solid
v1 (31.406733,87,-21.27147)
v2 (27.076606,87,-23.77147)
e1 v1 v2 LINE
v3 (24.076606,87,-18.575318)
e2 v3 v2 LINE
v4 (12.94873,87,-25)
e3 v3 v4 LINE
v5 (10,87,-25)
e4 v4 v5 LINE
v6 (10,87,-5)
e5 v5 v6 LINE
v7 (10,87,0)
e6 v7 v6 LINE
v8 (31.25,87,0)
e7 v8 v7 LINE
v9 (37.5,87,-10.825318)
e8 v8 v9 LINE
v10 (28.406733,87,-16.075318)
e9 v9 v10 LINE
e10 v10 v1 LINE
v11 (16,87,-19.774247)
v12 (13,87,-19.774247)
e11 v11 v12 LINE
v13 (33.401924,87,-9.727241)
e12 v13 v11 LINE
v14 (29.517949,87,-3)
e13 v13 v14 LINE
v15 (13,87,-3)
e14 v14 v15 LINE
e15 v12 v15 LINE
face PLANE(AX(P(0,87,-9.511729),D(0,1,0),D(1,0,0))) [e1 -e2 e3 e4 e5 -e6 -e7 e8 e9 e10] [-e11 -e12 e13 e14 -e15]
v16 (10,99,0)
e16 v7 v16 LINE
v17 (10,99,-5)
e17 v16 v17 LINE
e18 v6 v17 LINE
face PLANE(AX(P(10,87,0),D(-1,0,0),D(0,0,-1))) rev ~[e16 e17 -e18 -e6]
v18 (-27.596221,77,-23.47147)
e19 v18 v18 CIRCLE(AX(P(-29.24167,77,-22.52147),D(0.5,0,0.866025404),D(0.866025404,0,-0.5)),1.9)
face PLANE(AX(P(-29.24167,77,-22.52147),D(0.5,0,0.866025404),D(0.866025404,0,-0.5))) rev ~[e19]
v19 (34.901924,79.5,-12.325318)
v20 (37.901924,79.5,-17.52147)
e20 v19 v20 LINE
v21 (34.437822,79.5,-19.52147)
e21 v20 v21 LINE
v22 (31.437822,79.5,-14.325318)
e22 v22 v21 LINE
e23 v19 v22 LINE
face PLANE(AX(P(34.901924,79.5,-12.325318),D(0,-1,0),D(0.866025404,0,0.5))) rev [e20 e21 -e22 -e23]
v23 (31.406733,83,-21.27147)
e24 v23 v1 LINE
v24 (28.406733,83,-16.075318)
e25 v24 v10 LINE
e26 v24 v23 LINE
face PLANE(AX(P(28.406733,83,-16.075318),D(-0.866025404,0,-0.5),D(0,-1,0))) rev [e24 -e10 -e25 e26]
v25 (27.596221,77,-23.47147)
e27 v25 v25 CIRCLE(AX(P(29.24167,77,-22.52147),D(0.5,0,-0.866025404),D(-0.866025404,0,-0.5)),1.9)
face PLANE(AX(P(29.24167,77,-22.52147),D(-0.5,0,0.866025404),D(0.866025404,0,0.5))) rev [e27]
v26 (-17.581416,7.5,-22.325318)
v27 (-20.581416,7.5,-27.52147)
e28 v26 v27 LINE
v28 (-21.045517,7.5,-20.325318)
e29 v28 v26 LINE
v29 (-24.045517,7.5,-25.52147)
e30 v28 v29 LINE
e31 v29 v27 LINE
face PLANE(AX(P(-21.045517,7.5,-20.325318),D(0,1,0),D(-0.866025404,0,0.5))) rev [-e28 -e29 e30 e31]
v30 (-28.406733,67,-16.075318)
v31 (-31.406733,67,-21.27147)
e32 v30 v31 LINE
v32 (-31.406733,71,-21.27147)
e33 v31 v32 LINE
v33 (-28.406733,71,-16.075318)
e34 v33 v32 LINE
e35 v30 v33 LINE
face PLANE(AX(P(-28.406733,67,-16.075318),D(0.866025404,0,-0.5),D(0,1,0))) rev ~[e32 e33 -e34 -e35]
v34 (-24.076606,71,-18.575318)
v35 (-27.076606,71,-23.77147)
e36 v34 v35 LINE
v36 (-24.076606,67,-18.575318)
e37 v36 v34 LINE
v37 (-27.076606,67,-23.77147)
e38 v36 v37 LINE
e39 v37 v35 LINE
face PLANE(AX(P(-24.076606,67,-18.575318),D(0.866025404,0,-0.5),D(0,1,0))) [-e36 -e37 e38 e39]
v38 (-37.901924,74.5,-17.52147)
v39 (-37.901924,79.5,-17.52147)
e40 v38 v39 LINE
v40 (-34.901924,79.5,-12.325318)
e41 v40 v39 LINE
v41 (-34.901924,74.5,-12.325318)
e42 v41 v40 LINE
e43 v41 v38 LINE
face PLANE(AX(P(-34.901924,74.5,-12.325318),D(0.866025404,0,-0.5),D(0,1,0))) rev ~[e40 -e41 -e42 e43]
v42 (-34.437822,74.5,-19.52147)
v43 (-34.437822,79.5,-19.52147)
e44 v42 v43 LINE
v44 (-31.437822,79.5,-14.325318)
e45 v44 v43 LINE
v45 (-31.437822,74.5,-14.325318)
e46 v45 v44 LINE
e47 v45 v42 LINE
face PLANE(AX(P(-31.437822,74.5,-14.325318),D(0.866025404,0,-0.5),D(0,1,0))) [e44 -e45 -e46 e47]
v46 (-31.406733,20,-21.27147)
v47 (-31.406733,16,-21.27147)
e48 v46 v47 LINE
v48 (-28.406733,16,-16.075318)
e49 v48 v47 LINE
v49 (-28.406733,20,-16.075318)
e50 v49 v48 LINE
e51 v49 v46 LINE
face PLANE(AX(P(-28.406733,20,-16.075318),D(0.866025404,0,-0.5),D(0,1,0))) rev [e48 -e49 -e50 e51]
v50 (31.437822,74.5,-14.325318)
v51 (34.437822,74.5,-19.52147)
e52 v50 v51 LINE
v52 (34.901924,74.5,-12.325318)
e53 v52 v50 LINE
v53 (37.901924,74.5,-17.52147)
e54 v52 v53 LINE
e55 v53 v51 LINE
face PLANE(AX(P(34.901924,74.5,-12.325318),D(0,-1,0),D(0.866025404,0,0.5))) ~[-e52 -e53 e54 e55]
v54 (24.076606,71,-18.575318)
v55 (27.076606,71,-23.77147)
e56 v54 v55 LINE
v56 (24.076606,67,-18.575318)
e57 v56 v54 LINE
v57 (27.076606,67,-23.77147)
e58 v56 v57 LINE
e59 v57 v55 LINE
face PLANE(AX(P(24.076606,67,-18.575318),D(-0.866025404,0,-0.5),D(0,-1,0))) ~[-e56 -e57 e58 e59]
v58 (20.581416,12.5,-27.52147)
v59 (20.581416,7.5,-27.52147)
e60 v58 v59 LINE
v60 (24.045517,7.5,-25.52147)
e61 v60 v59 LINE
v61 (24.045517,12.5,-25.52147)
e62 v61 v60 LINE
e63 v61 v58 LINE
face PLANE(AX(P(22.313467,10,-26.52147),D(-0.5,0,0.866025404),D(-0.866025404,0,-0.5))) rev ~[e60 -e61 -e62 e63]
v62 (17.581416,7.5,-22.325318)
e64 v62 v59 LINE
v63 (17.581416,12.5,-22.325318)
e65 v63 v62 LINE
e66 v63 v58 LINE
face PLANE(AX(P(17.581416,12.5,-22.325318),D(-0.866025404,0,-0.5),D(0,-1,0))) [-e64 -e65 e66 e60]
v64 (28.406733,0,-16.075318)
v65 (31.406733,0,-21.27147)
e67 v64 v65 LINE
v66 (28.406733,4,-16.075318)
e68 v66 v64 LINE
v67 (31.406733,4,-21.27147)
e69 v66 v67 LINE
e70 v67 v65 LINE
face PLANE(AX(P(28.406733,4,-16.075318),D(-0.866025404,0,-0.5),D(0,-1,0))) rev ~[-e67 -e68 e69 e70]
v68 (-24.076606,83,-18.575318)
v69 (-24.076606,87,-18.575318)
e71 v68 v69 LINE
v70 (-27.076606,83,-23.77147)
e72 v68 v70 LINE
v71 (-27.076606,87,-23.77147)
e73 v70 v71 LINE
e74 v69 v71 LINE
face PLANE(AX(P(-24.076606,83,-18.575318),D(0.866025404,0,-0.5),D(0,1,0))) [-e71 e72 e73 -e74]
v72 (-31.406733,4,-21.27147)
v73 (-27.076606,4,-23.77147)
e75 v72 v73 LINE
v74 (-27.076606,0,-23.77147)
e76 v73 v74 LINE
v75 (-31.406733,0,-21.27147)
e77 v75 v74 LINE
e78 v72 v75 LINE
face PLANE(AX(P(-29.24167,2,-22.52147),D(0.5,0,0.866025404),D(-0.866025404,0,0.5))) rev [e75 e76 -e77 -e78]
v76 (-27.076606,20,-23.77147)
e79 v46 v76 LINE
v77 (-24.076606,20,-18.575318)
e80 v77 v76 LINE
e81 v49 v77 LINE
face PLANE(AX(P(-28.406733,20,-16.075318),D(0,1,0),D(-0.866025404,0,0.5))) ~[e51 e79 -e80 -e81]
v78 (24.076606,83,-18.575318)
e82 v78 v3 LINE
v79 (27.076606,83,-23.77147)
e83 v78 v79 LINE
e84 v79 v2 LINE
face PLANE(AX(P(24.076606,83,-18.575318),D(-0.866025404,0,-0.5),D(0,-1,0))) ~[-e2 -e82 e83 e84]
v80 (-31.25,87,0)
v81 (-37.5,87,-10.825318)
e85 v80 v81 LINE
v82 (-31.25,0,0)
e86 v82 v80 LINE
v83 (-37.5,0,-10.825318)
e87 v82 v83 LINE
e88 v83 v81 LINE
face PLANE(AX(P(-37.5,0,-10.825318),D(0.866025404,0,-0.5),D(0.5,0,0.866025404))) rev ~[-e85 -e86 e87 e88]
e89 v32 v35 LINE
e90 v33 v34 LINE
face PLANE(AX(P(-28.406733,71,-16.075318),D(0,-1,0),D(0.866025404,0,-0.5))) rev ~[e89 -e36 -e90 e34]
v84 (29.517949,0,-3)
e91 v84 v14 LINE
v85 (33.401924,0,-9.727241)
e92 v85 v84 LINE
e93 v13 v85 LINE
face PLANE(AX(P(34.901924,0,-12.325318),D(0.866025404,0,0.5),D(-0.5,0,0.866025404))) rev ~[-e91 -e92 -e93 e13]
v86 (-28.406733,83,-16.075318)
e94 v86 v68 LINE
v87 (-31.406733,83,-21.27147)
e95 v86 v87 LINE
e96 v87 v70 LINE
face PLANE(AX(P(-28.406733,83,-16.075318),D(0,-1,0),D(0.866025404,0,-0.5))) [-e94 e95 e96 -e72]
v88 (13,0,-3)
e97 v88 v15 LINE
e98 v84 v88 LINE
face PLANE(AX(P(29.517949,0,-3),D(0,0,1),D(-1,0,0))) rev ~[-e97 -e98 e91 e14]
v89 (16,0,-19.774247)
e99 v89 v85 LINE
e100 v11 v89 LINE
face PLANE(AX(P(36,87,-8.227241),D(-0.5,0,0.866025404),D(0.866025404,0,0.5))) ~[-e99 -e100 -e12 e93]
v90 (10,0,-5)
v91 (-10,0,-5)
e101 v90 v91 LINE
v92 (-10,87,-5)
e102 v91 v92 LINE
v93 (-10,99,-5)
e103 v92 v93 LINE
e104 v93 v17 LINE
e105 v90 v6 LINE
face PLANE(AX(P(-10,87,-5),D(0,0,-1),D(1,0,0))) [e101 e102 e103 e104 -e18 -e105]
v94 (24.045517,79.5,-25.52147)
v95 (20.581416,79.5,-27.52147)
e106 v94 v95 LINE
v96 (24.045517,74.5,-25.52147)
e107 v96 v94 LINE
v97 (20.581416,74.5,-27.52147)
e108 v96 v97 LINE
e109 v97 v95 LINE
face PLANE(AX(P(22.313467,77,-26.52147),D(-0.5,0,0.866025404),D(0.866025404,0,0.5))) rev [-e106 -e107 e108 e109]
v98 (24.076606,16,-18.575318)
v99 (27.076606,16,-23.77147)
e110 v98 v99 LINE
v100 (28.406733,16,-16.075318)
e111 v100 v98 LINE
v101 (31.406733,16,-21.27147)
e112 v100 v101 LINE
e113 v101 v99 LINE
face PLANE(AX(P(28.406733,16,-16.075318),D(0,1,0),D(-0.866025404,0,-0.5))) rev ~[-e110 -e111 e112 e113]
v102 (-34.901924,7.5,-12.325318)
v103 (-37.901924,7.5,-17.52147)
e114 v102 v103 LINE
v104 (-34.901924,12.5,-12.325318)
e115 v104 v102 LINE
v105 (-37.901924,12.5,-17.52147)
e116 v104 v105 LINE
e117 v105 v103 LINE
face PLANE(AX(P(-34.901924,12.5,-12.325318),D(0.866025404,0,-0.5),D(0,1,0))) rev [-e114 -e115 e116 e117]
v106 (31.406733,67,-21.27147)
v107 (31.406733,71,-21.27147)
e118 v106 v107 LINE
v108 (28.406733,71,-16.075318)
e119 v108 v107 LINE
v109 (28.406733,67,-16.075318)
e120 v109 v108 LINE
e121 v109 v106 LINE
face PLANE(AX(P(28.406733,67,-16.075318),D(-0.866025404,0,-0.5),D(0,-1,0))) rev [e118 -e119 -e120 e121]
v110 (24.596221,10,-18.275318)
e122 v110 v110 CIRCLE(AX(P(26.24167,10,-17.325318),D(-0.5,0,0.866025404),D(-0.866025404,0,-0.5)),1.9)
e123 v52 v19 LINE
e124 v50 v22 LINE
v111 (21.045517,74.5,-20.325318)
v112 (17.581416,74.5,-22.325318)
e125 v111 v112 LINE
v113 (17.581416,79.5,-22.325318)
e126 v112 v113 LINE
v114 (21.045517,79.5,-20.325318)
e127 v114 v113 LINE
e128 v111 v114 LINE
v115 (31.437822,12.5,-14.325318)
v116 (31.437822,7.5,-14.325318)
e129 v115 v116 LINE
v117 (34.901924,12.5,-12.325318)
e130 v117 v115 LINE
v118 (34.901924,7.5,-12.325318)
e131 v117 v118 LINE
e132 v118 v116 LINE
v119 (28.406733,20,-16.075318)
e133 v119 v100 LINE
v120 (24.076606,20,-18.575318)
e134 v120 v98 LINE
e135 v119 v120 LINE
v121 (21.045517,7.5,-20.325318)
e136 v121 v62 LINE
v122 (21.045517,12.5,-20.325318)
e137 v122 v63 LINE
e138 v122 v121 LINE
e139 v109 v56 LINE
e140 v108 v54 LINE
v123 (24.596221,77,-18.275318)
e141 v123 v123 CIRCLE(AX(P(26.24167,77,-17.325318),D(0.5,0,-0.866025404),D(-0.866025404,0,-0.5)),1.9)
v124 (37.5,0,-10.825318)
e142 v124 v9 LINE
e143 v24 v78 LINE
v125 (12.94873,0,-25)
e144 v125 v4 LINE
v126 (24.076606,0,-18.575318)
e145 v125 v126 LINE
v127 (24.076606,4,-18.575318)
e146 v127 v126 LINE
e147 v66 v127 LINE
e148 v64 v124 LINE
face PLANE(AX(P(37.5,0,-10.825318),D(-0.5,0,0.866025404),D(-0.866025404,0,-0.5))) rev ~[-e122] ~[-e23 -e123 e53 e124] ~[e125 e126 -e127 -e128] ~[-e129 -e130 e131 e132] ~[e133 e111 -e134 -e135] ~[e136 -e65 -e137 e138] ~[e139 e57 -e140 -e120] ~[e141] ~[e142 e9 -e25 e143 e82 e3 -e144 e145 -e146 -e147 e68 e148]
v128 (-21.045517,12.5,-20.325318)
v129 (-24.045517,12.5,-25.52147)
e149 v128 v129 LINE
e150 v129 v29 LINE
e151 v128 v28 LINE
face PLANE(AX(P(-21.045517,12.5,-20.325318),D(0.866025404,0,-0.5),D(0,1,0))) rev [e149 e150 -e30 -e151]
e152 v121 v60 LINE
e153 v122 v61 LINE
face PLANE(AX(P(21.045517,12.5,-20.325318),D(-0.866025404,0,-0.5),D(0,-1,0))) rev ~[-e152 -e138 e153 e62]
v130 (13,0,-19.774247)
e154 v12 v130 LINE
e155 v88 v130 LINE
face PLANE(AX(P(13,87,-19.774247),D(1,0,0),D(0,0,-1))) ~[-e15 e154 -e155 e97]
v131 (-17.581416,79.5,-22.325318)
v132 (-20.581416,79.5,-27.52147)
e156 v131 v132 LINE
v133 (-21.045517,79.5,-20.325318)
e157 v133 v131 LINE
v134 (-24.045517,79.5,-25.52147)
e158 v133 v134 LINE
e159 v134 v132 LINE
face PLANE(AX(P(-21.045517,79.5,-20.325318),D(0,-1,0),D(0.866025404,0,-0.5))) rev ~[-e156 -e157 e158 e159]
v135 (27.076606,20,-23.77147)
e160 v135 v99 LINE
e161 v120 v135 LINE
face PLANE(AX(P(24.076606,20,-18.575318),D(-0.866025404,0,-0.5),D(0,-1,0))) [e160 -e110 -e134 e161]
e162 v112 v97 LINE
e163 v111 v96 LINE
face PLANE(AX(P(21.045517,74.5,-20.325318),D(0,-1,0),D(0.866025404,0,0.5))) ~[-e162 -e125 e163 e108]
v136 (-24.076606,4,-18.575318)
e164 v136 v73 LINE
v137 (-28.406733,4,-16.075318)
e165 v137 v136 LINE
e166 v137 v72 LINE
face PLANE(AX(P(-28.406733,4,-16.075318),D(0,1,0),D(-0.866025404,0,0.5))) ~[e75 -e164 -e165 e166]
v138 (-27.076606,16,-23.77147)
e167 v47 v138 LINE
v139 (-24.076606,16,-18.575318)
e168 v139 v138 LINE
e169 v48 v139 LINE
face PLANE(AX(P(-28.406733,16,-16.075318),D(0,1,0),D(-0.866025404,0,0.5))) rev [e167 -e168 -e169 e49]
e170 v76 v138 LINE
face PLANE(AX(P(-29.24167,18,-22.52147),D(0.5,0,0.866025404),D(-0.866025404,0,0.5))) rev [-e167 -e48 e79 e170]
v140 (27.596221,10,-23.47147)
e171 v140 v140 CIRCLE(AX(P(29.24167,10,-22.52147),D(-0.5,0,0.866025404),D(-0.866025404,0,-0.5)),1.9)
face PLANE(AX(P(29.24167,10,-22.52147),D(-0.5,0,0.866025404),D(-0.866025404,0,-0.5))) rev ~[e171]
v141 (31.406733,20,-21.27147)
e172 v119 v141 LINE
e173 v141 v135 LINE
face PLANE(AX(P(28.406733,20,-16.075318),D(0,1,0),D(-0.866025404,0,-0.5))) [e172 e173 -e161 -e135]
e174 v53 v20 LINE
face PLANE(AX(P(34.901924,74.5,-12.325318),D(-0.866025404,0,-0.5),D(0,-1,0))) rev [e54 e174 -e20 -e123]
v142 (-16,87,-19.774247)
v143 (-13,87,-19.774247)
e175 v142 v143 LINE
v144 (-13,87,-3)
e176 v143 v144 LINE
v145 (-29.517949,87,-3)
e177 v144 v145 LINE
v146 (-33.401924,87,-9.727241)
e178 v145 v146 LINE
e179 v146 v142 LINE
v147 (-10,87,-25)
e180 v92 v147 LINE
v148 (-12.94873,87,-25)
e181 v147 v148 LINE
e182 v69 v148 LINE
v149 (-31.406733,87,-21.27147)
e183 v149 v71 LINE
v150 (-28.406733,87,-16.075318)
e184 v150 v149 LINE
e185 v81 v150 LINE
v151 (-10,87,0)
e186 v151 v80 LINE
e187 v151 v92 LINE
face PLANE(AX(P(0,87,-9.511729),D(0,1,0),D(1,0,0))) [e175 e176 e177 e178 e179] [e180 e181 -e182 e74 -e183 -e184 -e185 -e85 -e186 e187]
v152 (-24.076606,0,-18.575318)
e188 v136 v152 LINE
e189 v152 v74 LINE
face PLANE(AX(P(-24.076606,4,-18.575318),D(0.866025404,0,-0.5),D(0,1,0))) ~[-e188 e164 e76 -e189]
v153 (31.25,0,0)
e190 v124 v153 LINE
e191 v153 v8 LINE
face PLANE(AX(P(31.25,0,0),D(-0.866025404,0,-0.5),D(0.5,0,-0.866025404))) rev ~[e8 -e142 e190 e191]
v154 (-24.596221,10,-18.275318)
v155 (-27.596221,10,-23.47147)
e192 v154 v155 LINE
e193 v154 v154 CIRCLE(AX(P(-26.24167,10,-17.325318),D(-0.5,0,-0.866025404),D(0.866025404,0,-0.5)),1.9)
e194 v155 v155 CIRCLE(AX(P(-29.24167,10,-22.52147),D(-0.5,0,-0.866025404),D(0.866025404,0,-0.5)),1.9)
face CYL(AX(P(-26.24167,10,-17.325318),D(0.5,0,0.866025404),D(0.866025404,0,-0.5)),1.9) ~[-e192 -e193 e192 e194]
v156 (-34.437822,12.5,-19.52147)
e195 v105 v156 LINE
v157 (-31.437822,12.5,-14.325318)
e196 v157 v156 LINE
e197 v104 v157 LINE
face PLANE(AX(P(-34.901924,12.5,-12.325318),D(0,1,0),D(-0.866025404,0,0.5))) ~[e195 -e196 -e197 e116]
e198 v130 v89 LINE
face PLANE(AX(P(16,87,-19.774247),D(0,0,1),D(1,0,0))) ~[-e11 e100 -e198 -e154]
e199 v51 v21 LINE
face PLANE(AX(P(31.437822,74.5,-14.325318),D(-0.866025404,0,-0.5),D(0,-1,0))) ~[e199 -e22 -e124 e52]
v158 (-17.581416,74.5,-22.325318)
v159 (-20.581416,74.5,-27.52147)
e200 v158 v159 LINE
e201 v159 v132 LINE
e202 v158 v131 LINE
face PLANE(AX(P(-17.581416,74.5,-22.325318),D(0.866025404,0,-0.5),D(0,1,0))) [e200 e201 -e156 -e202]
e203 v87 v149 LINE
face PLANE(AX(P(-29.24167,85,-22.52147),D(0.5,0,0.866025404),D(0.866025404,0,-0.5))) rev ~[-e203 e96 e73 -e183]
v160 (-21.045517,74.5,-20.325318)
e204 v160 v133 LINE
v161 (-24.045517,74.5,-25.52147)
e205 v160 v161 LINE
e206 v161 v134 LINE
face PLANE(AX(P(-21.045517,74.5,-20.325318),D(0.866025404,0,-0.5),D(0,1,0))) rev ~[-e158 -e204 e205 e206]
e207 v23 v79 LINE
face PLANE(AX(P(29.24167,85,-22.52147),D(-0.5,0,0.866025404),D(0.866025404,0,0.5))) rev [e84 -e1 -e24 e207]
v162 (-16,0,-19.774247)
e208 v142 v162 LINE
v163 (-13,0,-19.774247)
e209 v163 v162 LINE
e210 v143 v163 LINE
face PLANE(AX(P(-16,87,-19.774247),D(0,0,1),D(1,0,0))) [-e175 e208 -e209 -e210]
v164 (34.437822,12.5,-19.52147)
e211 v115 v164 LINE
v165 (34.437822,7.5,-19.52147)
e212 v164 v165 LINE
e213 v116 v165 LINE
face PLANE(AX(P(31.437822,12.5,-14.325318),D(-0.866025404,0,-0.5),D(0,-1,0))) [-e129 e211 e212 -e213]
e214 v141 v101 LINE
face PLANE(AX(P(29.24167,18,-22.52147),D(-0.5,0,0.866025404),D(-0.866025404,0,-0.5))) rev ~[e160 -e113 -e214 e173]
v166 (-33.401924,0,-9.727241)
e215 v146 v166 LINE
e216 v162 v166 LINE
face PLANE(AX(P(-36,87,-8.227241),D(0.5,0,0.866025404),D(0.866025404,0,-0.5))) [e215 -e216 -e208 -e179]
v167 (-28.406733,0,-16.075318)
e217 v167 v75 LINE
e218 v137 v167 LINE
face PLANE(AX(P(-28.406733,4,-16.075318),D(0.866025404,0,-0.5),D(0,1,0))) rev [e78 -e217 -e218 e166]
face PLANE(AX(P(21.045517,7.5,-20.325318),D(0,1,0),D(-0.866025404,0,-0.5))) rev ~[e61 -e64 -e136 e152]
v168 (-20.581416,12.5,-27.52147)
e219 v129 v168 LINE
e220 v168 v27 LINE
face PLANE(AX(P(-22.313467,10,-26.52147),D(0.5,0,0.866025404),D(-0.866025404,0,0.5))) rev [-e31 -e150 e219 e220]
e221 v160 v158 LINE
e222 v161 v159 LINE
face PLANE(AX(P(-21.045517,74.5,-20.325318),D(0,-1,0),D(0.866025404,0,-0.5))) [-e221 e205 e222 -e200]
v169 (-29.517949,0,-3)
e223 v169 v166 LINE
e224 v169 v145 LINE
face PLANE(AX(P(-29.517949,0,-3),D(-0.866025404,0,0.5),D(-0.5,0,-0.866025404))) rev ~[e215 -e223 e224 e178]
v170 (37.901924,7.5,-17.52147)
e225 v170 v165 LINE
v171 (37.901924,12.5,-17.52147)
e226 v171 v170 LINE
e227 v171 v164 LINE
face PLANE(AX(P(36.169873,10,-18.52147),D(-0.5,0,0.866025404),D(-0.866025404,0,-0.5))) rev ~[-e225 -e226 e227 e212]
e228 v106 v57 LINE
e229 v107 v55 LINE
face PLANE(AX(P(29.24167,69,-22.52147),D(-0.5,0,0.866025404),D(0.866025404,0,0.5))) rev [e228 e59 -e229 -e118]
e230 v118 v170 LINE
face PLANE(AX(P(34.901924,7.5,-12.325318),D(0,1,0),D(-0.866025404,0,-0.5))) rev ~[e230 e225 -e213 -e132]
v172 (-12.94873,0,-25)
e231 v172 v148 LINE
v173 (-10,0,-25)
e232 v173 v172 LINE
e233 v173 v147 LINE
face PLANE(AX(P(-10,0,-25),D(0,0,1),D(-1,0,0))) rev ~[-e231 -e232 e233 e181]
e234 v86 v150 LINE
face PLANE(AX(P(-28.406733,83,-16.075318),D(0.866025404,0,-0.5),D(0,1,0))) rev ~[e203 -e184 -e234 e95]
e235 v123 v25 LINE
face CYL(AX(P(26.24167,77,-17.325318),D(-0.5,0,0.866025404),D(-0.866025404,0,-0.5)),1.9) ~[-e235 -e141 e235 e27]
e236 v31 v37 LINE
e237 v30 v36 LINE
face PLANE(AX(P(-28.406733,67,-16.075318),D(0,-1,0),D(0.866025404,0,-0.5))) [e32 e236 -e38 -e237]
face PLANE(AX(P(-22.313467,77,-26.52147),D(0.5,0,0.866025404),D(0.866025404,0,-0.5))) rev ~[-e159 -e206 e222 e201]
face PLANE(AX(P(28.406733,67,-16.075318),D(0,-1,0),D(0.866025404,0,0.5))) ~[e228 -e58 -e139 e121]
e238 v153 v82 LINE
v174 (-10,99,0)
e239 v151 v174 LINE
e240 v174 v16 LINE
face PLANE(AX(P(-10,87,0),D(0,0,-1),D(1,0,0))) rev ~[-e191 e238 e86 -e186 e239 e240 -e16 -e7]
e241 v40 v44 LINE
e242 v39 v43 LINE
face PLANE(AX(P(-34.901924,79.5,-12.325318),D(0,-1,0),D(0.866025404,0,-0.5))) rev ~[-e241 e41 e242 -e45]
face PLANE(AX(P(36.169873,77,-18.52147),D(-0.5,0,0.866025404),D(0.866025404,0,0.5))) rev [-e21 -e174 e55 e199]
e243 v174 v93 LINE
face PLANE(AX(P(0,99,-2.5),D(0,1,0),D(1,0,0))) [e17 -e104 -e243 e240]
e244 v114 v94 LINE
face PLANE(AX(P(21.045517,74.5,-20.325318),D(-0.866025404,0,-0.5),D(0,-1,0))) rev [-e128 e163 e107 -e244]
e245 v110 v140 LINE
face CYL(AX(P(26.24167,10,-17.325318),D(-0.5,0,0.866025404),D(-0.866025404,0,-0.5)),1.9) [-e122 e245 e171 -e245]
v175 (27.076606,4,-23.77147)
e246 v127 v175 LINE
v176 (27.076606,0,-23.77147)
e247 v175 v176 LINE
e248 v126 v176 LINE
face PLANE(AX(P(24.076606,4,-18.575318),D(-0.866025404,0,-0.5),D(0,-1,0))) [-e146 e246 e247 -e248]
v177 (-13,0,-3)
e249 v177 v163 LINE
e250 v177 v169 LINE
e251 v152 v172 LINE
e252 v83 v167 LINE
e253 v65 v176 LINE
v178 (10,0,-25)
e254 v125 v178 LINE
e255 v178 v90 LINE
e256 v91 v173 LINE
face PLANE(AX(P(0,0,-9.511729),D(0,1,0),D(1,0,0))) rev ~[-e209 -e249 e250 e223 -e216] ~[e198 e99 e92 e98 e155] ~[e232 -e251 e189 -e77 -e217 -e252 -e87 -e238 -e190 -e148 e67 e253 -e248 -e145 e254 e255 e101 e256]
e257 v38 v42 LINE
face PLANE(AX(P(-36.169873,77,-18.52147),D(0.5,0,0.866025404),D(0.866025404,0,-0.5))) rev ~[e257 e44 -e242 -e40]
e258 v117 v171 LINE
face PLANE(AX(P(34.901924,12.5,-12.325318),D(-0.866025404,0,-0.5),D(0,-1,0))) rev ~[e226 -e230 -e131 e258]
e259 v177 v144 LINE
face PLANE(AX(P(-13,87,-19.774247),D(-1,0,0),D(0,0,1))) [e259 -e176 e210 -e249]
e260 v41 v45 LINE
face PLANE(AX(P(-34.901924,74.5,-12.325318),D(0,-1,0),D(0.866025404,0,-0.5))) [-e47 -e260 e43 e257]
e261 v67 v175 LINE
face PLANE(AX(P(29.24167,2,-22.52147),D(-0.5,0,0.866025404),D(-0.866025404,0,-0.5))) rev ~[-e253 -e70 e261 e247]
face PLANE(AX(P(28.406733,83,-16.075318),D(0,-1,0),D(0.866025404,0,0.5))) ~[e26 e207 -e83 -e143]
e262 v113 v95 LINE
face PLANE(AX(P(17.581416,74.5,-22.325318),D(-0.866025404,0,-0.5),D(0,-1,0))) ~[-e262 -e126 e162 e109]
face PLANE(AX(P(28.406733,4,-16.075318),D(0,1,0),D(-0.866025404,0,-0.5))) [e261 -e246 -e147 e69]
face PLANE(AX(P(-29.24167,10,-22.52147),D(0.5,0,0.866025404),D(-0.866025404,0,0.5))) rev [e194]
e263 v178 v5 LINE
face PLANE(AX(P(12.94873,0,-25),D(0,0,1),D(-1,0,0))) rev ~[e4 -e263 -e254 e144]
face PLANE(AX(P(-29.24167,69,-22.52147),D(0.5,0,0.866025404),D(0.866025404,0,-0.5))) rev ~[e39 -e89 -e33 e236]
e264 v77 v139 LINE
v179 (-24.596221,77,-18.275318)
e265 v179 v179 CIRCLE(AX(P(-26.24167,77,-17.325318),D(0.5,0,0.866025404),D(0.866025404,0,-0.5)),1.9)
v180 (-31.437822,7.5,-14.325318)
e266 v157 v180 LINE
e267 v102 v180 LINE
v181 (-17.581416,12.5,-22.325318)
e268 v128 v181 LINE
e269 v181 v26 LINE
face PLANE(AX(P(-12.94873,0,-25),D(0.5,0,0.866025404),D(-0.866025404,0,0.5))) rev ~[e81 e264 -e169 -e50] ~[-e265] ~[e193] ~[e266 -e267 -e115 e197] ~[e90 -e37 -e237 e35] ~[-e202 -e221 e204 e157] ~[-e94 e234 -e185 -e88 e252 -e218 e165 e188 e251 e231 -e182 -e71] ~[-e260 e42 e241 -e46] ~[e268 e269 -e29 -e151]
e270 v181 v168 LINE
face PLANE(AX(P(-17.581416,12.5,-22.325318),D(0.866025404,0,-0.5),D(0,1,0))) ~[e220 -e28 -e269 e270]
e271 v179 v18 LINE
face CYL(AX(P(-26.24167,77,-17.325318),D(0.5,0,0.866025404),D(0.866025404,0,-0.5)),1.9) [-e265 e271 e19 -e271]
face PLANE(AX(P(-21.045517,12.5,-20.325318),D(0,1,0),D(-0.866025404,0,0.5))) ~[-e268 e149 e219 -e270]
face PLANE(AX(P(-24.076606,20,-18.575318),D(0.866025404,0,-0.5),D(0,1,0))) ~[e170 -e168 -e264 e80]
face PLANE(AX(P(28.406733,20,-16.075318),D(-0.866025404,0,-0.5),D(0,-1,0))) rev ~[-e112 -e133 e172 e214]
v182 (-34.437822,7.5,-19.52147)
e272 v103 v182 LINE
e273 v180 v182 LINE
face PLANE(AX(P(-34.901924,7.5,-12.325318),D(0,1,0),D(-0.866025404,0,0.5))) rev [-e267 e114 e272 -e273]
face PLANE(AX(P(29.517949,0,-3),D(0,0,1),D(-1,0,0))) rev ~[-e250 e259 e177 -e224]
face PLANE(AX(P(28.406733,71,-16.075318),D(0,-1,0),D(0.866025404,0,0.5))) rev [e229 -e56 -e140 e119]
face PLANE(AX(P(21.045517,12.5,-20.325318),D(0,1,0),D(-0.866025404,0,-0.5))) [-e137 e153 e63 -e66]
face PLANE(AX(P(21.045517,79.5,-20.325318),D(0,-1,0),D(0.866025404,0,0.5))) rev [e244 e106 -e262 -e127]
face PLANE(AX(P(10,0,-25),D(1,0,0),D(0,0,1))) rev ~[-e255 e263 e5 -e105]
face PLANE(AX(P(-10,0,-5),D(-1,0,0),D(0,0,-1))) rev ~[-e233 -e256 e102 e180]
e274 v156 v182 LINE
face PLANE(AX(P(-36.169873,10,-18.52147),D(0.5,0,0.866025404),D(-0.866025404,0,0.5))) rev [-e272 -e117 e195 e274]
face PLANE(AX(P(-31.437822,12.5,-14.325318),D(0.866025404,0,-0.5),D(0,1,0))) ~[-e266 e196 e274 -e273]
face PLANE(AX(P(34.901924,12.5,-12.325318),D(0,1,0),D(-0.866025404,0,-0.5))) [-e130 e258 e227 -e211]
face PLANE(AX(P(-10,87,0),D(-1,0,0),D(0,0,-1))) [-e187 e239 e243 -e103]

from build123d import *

# Parameters (mm, degrees)
BOSS_EXTRU_1_DEPTH          = 87
ENL_V_MAT_EXTRU_1_REACH     = 99.981
BOSS_EXTRU_2_DEPTH          = 87
ESQUISSE3_R                 = 1.9
ESQUISSE3_W                 = 5
ESQUISSE3_H                 = 4
ESQUISSE3_W_2               = 4
ESQUISSE3_H_2               = 5
BOSS_EXTRU_3_DEPTH          = 6
SYM_TRIE3_COPY_1_SKETCH_R   = 1.9
SYM_TRIE3_COPY_1_SKETCH_W   = 5
SYM_TRIE3_COPY_1_SKETCH_H   = 4
SYM_TRIE3_COPY_1_SKETCH_W_2 = 4
SYM_TRIE3_COPY_1_SKETCH_H_2 = 5
SYM_TRIE3_COPY_1_DEPTH      = 6
ESQUISSE5_W                 = 20
ESQUISSE5_H                 = 5
BOSS_EXTRU_4_DEPTH          = 12


with BuildPart() as part:
    # Esquisse1 → Boss.-Extru.1 (new body)
    with BuildSketch(Plane(origin=(0, 0, 0), x_dir=(1, 0, 0), z_dir=(0, 1, 0))):
        Polygon((-31.25, 0), (31.25, 0), (37.5, 10.825317547), (12.948729811, 25), (10, 25), (10, 5), (-10, 5), (-10, 25), (-12.948729811, 25), (-37.5, 10.825317547), align=None)
    extrude(amount=BOSS_EXTRU_1_DEPTH)

    # Esquisse2 → Enlèv. mat.-Extru.1 (cut, up to next)
    with BuildSketch(Plane(origin=(0, 87, 0), x_dir=(1, 0, 0), z_dir=(0, 1, 0)), mode=Mode.PRIVATE) as enl_v_mat_extru_1_sk1:
        Polygon((-36, 8.227241336), (-16, 19.77424672), (-13, 19.77424672), (-13, 0), (-31.25, 0), align=None)
    enl_v_mat_extru_1_tool1 = extrude(enl_v_mat_extru_1_sk1.sketch, amount=-ENL_V_MAT_EXTRU_1_REACH, mode=Mode.PRIVATE) & part.part
    enl_v_mat_extru_1 = enl_v_mat_extru_1_tool1.solids().sort_by_distance((-22.148909, 87, -8.14347))[0]
    add(enl_v_mat_extru_1, mode=Mode.SUBTRACT)

    # Symétrie1: Enlèv. mat.-Extru.1 across plane
    add(enl_v_mat_extru_1.mirror(Plane(origin=(0, 0, 0), x_dir=(0, 0, 1), z_dir=(1, 0, 0))), mode=Mode.SUBTRACT)

    # Esquisse4 → Boss.-Extru.2 (add)
    with BuildSketch(Plane(origin=(0, 0, 0), x_dir=(1, 0, 0), z_dir=(0, 1, 0))):
        Polygon((-37.5, 10.825317547), (-31.25, 0), (31.25, 0), (37.5, 10.825317547), (34.901923789, 12.325317547), (29.517949192, 3), (-29.517949192, 3), (-34.901923789, 12.325317547), align=None)
    extrude(amount=BOSS_EXTRU_2_DEPTH)

    # Esquisse3 → Boss.-Extru.3 (add)
    with BuildSketch(Plane(origin=(-14.0625, 0, -24.356964481), x_dir=(0.8660254037844396, 0, -0.4999999999999984), z_dir=(0.49999999999999833, 0, 0.8660254037844395))):
        with Locations((-14.063293868, 77)):
            Circle(ESQUISSE3_R)
        with Locations((-14.063293868, 85)):
            Rectangle(ESQUISSE3_W, ESQUISSE3_H)
        with Locations((-22.063293868, 77)):
            Rectangle(ESQUISSE3_W_2, ESQUISSE3_H_2)
        with Locations((-6.063293868, 77)):
            Rectangle(ESQUISSE3_W_2, ESQUISSE3_H_2)
        with Locations((-14.063293868, 69)):
            Rectangle(ESQUISSE3_W, ESQUISSE3_H)
    boss_extru_3 = extrude(amount=-BOSS_EXTRU_3_DEPTH)

    # Symétrie2: Boss.-Extru.3 across plane
    add(boss_extru_3.mirror(Plane.ZX.offset(43.5)))

    # Symétrie3: Boss.-Extru.3 across plane
    add(boss_extru_3.mirror(Plane(origin=(0, 0, 0), x_dir=(0, 0, 1), z_dir=(1, 0, 0))))

    # Symétrie3 copy 1 sketch → Symétrie3 copy 1 (add)
    with BuildSketch(Plane(origin=(14.0625, 87, -24.356964481), x_dir=(-0.8660254037844396, 0, -0.4999999999999984), z_dir=(-0.49999999999999833, 0, 0.8660254037844395))):
        with Locations((-14.063293868, 77)):
            Circle(SYM_TRIE3_COPY_1_SKETCH_R)
        with Locations((-14.063293868, 85)):
            Rectangle(SYM_TRIE3_COPY_1_SKETCH_W, SYM_TRIE3_COPY_1_SKETCH_H)
        with Locations((-22.063293868, 77)):
            Rectangle(SYM_TRIE3_COPY_1_SKETCH_W_2, SYM_TRIE3_COPY_1_SKETCH_H_2)
        with Locations((-6.063293868, 77)):
            Rectangle(SYM_TRIE3_COPY_1_SKETCH_W_2, SYM_TRIE3_COPY_1_SKETCH_H_2)
        with Locations((-14.063293868, 69)):
            Rectangle(SYM_TRIE3_COPY_1_SKETCH_W, SYM_TRIE3_COPY_1_SKETCH_H)
    extrude(amount=-SYM_TRIE3_COPY_1_DEPTH)

    # Esquisse5 → Boss.-Extru.4 (add)
    with BuildSketch(Plane(origin=(0, 87, 0), x_dir=(1, 0, 0), z_dir=(0, 1, 0))):
        with Locations((0, 2.5)):
            Rectangle(ESQUISSE5_W, ESQUISSE5_H)
    extrude(amount=BOSS_EXTRU_4_DEPTH)


solid = part.part
